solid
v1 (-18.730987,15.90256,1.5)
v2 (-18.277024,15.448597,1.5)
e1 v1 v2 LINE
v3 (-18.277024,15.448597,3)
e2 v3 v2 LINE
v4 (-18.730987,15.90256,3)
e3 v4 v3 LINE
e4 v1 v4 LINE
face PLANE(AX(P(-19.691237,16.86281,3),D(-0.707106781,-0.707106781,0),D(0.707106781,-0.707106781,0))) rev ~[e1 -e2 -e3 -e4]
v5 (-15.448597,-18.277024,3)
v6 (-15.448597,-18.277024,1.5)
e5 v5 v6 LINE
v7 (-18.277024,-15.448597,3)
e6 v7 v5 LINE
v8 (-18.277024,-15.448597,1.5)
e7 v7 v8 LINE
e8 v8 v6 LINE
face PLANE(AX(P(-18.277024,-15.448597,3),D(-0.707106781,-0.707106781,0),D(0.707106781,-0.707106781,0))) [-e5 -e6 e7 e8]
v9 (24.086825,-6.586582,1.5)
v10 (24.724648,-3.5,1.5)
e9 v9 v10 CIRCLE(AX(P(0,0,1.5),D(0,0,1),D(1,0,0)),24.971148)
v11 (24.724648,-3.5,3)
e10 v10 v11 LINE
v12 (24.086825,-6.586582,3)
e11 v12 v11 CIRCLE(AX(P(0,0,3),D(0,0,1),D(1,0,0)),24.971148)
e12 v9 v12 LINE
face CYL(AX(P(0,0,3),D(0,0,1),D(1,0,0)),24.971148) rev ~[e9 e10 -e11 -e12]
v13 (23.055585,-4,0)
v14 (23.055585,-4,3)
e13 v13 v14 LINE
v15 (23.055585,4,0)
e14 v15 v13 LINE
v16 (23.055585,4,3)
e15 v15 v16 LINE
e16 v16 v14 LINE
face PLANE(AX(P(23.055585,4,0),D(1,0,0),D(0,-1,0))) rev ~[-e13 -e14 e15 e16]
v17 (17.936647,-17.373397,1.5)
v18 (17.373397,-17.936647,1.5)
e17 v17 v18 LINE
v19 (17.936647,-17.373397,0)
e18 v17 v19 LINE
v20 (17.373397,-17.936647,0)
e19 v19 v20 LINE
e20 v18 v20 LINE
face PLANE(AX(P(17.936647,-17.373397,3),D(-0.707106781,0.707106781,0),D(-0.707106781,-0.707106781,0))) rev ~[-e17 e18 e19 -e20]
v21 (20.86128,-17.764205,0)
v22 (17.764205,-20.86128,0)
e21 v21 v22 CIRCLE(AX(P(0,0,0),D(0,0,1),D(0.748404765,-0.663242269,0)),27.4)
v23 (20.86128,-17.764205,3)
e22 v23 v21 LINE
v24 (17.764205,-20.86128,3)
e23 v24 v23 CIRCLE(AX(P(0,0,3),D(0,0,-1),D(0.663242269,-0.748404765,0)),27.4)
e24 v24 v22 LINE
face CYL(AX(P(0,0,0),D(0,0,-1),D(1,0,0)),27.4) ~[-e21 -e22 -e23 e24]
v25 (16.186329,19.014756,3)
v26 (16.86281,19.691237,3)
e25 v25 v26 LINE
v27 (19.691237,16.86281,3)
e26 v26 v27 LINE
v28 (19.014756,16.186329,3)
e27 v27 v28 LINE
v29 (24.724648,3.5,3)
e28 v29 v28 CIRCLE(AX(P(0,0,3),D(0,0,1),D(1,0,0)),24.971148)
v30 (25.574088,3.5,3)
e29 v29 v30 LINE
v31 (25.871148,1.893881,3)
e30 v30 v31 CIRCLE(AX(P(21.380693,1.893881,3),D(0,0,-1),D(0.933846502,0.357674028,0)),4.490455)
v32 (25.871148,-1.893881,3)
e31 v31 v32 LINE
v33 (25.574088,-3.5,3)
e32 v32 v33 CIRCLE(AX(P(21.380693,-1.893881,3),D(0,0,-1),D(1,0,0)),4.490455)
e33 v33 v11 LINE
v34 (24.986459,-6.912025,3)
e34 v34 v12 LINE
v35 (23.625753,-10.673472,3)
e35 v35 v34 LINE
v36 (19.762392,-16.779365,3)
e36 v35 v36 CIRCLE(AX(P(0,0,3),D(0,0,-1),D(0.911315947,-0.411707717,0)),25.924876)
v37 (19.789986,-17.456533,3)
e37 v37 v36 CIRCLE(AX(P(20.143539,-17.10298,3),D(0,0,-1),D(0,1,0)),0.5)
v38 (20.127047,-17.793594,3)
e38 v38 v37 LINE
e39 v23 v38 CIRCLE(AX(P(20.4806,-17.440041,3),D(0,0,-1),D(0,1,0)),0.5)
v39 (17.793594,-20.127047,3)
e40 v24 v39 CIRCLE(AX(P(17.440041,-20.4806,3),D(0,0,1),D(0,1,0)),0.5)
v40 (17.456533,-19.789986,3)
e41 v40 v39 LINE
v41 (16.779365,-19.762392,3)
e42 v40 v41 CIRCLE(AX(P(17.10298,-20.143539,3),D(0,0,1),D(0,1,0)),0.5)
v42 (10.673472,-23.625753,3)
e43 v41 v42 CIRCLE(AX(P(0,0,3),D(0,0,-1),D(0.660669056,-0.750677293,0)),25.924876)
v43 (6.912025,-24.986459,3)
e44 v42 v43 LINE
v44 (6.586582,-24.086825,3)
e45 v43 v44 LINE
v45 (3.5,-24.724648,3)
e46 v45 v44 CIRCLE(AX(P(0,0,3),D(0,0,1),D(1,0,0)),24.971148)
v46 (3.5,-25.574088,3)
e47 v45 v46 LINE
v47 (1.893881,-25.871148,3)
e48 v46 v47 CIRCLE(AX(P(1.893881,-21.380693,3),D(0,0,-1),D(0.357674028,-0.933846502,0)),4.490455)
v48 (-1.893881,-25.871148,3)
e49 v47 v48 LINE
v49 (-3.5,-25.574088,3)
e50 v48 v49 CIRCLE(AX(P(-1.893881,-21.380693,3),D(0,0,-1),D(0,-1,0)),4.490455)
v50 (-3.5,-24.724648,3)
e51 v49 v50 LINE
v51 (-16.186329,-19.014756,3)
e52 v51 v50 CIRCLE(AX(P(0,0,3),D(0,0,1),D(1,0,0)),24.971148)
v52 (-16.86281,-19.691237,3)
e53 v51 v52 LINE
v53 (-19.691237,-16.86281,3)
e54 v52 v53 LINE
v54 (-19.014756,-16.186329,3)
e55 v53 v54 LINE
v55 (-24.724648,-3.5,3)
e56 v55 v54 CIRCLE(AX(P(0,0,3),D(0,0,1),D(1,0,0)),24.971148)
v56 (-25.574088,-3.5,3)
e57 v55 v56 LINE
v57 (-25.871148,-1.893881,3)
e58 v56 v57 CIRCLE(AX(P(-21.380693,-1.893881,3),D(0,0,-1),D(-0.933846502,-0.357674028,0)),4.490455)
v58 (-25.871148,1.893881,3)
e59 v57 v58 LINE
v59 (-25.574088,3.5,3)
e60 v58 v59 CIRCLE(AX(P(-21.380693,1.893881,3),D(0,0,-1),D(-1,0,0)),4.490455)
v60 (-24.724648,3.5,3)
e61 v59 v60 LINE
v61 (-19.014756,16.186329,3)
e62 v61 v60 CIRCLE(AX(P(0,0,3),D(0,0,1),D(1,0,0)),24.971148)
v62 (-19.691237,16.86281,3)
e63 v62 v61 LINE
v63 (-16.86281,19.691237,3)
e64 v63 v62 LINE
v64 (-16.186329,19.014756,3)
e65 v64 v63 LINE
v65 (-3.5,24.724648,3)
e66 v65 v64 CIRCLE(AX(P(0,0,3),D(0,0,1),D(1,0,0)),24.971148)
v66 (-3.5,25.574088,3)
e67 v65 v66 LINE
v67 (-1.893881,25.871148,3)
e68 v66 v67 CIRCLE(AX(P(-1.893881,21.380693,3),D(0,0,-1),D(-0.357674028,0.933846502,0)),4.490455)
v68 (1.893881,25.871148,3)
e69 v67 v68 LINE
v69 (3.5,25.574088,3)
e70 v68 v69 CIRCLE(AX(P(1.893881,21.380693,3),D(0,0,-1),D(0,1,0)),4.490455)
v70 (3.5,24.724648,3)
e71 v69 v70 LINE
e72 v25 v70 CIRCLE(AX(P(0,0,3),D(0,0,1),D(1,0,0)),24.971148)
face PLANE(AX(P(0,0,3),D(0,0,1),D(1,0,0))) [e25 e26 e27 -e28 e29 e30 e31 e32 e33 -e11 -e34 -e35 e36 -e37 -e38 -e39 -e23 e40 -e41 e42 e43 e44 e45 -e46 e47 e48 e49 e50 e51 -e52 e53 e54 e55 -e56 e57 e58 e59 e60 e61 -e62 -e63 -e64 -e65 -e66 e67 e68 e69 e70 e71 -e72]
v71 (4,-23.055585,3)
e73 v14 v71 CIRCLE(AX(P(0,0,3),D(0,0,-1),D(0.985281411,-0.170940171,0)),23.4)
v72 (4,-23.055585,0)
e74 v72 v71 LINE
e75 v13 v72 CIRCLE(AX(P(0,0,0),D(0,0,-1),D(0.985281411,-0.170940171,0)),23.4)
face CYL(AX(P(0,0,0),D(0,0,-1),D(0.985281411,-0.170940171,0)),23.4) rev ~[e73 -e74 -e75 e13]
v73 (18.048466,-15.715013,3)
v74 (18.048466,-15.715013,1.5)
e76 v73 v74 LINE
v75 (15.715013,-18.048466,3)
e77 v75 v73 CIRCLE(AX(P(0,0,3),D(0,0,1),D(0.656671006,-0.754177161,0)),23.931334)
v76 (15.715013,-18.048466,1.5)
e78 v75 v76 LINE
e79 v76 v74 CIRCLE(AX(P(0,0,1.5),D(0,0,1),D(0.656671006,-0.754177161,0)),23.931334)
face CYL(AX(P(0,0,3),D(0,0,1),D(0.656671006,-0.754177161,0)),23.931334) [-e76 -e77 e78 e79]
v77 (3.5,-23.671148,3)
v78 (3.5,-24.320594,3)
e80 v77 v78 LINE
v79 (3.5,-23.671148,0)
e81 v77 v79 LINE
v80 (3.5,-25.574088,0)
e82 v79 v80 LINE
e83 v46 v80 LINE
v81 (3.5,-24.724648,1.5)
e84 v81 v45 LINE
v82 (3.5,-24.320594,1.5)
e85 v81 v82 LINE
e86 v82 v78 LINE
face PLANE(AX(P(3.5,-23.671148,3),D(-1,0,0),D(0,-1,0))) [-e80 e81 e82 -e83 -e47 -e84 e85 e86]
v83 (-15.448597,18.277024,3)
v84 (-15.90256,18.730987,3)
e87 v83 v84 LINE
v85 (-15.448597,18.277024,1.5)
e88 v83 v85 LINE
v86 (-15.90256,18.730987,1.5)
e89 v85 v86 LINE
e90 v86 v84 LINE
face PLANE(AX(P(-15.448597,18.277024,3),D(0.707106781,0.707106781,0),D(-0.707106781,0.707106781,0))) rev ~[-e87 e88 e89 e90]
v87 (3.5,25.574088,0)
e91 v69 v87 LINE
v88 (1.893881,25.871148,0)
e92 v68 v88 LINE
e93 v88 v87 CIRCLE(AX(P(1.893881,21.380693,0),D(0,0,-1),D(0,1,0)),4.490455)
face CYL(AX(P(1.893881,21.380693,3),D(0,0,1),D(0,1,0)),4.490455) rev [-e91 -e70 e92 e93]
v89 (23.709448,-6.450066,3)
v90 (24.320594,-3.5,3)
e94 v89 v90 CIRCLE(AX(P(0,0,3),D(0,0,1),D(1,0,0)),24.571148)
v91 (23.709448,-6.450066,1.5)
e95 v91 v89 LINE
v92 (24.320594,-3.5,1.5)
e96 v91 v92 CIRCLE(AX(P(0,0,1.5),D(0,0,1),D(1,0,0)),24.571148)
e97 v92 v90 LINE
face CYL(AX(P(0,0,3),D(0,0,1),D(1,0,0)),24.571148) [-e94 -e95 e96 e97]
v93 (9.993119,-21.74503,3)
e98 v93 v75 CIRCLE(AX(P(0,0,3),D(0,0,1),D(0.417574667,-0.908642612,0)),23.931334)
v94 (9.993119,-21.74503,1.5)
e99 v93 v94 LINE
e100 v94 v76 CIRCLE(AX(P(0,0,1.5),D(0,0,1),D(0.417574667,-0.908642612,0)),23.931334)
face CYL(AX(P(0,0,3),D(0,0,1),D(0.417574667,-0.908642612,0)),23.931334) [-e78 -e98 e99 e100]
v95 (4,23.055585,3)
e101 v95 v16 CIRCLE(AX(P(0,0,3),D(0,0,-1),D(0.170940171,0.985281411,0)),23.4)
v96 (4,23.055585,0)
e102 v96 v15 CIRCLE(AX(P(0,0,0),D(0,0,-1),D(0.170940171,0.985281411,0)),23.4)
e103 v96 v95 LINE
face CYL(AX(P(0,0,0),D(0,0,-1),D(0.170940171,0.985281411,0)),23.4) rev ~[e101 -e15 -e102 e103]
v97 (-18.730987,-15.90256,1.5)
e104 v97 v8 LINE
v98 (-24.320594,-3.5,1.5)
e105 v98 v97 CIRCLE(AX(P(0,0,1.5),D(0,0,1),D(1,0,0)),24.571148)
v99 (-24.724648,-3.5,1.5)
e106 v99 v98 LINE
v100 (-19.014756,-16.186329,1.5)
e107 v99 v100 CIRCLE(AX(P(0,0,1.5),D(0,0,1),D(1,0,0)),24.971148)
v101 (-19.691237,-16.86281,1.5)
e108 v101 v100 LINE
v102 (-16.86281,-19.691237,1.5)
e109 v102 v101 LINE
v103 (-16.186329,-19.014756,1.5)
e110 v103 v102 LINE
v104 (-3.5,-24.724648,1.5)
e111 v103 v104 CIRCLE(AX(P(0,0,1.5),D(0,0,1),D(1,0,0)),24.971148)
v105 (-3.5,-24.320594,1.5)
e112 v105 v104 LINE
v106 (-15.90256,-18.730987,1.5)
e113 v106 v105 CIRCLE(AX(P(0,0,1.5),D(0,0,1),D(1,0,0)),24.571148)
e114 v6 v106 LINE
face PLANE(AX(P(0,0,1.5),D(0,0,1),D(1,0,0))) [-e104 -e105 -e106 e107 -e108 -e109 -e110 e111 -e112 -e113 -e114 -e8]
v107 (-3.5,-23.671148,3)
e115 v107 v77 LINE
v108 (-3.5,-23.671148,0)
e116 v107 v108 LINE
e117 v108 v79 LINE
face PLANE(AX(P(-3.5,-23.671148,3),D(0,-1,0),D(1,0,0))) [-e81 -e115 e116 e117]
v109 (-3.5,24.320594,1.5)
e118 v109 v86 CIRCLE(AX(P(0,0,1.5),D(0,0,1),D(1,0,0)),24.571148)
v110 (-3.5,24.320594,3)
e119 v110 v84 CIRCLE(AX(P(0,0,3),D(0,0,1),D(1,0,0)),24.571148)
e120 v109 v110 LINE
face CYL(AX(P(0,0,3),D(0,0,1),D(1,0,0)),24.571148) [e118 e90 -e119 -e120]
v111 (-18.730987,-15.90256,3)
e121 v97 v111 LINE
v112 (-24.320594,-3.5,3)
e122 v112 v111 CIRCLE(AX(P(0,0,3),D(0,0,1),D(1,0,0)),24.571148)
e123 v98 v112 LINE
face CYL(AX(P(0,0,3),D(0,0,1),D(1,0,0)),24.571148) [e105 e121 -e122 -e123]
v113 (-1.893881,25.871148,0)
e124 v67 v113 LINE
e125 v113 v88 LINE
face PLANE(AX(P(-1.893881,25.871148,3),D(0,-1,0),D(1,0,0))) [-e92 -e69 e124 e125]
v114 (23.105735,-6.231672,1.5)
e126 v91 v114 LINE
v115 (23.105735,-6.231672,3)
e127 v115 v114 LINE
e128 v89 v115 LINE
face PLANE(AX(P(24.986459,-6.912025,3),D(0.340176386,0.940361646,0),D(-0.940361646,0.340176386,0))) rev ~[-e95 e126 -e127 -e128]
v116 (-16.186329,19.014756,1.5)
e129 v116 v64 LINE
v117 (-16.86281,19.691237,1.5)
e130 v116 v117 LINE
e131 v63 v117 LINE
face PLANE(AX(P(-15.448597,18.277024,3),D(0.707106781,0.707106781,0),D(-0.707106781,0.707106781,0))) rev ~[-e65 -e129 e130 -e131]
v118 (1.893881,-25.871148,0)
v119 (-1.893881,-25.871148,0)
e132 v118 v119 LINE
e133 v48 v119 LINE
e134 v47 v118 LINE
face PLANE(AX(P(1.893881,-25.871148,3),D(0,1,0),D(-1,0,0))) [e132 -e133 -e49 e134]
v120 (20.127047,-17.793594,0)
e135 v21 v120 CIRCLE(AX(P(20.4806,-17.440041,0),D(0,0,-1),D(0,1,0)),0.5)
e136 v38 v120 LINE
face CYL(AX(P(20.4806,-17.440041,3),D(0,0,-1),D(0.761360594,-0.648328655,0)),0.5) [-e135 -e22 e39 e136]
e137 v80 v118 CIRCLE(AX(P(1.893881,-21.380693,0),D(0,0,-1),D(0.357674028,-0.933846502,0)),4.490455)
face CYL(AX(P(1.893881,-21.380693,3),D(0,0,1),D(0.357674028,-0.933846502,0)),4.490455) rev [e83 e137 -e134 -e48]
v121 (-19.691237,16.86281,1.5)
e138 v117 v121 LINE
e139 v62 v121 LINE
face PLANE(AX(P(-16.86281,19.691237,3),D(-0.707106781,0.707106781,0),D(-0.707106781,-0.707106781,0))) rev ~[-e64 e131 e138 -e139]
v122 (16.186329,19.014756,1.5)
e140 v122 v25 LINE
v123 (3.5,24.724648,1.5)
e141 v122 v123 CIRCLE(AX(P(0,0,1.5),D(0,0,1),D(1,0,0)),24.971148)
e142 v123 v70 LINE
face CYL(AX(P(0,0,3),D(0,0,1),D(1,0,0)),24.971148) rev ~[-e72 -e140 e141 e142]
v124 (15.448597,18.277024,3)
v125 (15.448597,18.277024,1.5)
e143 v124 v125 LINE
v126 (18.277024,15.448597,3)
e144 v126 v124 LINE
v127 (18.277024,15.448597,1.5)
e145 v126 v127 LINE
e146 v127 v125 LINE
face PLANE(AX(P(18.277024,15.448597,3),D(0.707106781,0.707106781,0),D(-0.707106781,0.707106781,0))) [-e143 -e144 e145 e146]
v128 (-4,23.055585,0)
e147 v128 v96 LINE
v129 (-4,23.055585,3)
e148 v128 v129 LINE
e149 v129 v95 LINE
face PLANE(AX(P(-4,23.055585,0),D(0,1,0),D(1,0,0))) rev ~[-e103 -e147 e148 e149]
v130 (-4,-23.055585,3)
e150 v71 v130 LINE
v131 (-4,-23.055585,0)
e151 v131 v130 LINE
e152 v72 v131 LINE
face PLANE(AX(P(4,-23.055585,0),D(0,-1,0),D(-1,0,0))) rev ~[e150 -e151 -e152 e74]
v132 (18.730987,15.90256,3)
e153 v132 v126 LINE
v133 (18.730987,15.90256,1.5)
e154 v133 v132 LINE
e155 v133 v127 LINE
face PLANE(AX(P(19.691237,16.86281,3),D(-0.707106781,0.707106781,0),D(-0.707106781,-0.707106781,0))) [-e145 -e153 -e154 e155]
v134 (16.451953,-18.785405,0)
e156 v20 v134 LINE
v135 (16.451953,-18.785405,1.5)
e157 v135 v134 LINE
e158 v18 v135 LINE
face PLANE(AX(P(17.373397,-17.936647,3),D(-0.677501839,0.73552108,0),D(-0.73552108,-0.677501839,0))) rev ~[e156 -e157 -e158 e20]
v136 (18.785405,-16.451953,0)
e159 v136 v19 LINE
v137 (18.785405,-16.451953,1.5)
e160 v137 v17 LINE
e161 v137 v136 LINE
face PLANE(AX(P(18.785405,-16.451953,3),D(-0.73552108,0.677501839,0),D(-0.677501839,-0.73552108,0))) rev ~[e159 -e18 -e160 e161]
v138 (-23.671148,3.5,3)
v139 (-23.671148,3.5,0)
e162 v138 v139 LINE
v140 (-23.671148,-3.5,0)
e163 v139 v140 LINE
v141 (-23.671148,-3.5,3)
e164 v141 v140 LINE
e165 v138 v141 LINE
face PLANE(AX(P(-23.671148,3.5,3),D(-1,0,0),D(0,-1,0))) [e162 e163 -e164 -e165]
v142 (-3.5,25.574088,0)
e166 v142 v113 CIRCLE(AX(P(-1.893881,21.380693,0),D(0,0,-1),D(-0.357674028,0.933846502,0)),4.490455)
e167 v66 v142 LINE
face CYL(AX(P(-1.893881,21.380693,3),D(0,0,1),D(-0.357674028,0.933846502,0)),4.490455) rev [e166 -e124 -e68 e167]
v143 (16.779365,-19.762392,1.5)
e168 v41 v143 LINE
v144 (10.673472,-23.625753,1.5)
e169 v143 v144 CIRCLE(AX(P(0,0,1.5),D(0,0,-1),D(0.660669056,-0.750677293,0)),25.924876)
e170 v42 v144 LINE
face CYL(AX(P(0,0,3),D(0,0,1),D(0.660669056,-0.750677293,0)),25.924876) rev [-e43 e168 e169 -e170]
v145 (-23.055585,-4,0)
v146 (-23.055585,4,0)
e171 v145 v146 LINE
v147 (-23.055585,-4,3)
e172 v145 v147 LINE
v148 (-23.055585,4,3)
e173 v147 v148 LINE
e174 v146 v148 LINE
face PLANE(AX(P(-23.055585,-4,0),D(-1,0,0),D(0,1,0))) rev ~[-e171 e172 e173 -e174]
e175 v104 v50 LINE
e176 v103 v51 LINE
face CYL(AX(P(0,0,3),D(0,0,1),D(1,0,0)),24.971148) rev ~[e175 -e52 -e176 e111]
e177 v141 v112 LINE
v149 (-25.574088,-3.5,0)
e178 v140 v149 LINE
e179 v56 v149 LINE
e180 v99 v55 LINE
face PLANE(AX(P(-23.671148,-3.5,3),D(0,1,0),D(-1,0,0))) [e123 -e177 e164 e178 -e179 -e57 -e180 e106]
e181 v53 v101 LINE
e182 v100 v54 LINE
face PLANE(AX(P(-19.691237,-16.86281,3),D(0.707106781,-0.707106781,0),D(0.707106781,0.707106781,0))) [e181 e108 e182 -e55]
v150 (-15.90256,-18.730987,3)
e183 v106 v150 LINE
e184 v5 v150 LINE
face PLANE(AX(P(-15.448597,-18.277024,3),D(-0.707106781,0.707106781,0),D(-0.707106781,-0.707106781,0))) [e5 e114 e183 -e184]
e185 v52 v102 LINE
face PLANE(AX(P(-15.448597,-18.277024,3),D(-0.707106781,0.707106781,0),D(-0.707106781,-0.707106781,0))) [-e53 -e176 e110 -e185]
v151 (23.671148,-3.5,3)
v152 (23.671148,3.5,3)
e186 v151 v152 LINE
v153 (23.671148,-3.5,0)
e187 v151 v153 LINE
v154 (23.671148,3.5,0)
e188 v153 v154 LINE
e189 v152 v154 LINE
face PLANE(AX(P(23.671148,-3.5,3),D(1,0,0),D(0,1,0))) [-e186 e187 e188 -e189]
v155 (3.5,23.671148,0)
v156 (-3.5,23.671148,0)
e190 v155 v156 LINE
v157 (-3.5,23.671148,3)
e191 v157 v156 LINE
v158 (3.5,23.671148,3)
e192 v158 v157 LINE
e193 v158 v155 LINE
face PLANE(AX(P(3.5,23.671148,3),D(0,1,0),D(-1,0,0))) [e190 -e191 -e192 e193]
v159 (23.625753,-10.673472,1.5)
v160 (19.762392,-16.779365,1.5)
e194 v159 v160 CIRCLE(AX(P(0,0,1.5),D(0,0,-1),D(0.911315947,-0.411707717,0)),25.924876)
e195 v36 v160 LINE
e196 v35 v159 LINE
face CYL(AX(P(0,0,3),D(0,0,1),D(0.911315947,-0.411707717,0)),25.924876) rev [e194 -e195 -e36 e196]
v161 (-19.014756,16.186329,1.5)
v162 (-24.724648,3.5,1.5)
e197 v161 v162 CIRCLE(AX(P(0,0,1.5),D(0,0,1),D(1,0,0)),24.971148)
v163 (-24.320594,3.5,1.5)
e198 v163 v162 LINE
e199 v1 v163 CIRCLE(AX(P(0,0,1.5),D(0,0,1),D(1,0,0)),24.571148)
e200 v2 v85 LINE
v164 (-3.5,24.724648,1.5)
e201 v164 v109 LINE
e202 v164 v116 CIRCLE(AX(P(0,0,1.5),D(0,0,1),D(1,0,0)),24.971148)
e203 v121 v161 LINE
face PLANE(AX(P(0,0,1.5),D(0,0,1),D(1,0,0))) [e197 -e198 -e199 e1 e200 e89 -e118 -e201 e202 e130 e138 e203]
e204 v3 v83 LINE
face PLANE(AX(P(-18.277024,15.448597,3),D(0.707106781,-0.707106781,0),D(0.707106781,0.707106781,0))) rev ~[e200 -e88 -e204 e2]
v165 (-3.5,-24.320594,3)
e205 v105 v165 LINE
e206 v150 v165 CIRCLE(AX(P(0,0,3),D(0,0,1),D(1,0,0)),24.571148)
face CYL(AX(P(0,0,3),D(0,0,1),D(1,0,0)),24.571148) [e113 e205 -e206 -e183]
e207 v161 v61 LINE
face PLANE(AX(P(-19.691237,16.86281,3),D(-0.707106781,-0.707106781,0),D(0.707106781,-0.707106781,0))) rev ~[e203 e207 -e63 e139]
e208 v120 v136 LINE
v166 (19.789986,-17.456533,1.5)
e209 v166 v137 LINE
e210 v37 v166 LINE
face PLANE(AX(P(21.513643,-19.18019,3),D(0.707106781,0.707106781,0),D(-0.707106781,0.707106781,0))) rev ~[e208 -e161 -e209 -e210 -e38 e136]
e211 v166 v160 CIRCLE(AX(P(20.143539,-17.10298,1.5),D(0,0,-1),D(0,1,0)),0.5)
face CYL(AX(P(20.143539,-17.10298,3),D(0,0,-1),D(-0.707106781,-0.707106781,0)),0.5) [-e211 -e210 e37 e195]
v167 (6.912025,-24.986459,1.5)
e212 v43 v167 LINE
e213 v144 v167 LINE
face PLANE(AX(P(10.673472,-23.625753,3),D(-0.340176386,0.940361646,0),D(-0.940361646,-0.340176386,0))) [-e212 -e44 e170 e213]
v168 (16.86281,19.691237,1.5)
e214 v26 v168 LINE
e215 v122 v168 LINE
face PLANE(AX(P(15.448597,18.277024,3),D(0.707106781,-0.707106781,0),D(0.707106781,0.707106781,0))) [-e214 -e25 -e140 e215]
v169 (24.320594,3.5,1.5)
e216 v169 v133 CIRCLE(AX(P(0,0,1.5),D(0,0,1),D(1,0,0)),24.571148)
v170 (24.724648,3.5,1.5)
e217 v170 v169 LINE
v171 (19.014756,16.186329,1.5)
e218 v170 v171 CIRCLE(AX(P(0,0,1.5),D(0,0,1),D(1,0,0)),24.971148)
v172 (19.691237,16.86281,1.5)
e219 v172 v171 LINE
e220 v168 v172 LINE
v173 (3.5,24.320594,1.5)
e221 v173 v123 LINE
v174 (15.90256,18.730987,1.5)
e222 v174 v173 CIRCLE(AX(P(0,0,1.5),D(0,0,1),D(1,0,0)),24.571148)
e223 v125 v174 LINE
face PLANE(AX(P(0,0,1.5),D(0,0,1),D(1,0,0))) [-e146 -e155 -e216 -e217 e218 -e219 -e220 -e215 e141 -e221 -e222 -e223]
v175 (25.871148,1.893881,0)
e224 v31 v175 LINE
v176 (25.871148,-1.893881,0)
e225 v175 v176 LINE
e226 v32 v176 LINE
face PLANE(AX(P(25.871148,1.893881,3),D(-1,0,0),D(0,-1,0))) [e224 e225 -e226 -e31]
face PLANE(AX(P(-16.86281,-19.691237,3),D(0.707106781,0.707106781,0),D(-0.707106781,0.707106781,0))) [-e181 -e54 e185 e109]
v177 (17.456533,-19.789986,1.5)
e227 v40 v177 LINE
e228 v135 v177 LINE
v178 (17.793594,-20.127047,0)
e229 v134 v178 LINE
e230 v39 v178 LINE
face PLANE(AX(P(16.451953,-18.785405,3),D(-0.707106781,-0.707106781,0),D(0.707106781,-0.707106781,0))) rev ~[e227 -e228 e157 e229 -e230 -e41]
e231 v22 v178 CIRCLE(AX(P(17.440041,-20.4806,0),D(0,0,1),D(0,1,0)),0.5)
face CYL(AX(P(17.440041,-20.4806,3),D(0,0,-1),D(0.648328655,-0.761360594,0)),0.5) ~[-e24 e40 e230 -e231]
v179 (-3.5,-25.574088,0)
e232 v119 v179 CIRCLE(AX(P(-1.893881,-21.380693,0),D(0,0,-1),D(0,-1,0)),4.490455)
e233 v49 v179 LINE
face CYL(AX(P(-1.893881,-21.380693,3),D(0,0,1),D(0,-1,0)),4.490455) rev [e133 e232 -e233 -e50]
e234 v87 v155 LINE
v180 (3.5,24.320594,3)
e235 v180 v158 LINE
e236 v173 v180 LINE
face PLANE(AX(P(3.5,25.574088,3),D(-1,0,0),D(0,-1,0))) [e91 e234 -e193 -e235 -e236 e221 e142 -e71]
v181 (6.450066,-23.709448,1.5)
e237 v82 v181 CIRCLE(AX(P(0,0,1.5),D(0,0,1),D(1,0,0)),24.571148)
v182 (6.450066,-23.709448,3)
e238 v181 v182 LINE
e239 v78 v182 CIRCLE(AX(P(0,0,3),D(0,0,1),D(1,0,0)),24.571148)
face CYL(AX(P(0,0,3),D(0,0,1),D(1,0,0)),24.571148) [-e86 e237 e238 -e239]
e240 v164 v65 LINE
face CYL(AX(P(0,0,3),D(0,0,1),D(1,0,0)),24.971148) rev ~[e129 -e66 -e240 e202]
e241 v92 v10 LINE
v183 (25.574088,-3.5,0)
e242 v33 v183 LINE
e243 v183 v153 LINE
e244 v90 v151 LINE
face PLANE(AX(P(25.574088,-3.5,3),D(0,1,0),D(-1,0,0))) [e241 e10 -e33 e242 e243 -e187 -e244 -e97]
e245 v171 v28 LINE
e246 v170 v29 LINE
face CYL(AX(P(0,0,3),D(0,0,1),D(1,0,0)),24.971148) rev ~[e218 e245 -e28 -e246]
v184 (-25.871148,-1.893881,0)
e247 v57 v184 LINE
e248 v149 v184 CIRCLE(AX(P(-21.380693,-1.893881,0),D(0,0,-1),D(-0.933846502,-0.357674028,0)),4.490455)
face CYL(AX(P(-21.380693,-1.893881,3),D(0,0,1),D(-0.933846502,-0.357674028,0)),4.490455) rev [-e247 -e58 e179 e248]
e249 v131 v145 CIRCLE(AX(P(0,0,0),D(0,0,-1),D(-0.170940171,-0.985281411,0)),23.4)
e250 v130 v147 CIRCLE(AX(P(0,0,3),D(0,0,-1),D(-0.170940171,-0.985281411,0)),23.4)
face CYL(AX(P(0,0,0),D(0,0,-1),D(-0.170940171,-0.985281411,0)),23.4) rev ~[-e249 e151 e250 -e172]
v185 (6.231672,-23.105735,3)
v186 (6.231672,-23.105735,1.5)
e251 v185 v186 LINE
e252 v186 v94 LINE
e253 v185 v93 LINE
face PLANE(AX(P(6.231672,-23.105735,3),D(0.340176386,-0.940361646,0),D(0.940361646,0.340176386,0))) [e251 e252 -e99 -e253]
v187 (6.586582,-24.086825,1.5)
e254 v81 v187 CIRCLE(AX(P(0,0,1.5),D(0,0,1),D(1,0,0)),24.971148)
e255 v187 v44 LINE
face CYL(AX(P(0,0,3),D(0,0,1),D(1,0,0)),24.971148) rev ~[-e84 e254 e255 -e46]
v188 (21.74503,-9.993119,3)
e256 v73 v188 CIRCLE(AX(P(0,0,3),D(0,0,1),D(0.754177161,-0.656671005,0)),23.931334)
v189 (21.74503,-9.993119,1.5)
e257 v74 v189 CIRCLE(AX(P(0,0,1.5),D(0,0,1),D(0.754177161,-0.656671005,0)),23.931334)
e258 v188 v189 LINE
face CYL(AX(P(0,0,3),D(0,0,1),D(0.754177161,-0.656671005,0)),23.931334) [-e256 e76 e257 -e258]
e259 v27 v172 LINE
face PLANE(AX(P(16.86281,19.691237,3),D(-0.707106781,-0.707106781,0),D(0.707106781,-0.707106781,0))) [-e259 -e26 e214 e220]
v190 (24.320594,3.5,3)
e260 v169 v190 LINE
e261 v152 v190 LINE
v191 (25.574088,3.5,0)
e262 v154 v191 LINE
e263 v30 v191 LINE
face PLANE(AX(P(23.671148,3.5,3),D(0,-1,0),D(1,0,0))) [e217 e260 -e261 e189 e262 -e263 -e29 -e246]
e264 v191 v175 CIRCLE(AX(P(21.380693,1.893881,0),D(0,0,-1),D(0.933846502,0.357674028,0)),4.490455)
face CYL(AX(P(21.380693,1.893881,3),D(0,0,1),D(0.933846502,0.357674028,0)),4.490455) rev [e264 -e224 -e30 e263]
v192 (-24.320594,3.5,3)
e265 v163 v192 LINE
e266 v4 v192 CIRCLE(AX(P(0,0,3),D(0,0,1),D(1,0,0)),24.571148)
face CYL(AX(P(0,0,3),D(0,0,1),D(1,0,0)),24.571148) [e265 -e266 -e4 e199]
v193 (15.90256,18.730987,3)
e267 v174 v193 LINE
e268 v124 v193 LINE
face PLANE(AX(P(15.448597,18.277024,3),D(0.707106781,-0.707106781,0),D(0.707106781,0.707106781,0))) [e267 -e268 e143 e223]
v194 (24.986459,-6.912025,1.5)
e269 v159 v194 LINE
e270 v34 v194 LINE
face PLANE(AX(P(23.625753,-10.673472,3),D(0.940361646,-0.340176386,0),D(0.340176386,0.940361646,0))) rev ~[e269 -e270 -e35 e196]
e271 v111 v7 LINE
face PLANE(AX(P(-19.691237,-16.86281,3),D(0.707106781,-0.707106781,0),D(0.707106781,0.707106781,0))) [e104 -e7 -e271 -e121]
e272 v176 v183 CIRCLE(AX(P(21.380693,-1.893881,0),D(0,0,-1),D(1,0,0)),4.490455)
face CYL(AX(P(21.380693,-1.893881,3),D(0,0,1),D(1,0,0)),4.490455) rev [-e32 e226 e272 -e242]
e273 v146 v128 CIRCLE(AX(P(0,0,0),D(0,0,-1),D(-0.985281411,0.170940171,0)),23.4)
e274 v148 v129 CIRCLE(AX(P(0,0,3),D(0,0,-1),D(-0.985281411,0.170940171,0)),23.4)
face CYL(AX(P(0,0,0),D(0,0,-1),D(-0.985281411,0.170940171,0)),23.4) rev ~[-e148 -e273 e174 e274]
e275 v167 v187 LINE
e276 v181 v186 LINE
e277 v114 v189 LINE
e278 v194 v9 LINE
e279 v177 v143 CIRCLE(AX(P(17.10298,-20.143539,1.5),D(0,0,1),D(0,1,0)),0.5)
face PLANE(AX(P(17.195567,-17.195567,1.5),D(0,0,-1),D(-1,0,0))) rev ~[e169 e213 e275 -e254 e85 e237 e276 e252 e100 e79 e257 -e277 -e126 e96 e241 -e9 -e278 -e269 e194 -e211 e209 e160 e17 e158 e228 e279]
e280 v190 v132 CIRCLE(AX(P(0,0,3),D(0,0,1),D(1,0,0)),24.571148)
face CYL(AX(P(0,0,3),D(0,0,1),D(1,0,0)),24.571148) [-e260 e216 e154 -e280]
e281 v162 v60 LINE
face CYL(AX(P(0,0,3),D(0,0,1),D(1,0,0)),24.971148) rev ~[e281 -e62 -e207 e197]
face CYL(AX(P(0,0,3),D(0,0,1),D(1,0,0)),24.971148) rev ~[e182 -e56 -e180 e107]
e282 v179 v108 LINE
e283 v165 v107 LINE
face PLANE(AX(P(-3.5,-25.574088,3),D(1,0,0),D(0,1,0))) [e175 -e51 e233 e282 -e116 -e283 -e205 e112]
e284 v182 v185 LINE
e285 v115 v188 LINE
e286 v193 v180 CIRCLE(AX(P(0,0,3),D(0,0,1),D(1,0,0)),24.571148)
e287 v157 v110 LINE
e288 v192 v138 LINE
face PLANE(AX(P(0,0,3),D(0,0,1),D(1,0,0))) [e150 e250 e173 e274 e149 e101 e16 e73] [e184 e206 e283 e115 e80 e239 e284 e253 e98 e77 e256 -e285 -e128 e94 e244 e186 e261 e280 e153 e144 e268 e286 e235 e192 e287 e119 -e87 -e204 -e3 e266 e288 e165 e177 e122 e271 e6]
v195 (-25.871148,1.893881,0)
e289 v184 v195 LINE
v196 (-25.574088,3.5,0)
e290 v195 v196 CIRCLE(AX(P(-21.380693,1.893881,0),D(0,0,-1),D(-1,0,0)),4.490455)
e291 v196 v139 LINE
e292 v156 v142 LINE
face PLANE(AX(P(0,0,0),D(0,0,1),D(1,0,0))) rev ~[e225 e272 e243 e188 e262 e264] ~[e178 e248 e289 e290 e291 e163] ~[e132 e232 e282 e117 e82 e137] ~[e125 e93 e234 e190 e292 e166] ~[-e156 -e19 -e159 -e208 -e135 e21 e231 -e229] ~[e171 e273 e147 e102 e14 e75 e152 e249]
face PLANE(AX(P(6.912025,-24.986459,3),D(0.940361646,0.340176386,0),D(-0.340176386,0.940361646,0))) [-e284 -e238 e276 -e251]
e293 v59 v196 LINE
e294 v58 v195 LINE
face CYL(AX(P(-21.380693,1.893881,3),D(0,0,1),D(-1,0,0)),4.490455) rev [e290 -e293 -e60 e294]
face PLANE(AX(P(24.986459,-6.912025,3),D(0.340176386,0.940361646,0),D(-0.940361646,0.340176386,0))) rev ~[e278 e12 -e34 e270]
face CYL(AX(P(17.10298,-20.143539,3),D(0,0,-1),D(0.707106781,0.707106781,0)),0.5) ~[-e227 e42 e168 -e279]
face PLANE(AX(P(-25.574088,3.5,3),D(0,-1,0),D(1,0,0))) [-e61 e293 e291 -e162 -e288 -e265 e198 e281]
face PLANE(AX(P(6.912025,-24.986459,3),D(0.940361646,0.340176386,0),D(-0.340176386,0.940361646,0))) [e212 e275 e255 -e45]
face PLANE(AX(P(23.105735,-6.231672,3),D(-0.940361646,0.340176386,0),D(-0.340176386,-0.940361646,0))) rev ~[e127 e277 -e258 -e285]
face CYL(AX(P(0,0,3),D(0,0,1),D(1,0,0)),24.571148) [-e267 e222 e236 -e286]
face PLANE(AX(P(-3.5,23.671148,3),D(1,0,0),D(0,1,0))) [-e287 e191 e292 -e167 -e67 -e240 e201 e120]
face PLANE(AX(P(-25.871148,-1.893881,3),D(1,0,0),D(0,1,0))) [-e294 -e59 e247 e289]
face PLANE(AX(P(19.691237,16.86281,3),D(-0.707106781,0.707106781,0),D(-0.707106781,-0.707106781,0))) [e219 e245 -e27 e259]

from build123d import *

# Parameters (mm, degrees)
SKETCH2_R       = 27.4
EXTRUDE1_DEPTH  = 3
EXTRUDE2_DEPTH  = 3
SKETCH5_R       = 24.971147558
SKETCH5_R_2     = 24.571147558
EXTRUDE3_DEPTH  = 1.5
EXTRUDE4_DEPTH  = 1.5
EXTRUDE11_DEPTH = 3.8
EXTRUDE12_DEPTH = 1.5
FILLET1_R       = 0.5


with BuildPart() as part:
    # Sketch2 → Extrude1 (new body)
    with BuildSketch(Plane.XY):
        Circle(SKETCH2_R)
        with BuildLine():
            Line((-4, 23.055585007), (4, 23.055585007))
            ThreePointArc((4, 23.055585007), (16.54629868, 16.54629868), (23.055585007, 4))
            Line((23.055585007, 4), (23.055585007, -4))
            ThreePointArc((23.055585007, -4), (16.54629868, -16.54629868), (4, -23.055585007))
            Line((4, -23.055585007), (-4, -23.055585007))
            ThreePointArc((-4, -23.055585007), (-16.54629868, -16.54629868), (-23.055585007, -4))
            Line((-23.055585007, -4), (-23.055585007, 4))
            ThreePointArc((-23.055585007, 4), (-16.54629868, 16.54629868), (-4, 23.055585007))
        make_face(mode=Mode.SUBTRACT)
    extrude(amount=EXTRUDE1_DEPTH)

    # Sketch3 → Extrude2 (cut)
    with BuildSketch(Plane.XY.offset(3)):
        with BuildLine():
            Line((-1.893881028, 25.871147558), (1.893881028, 25.871147558))
            ThreePointArc((1.893881028, 25.871147558), (2.710560642, 25.796258258), (3.5, 25.574088282))
            Line((3.5, 25.574088282), (3.5, 23.671147558))
            Line((3.5, 23.671147558), (-3.5, 23.671147558))
            Line((-3.5, 23.671147558), (-3.5, 25.574088282))
            ThreePointArc((-3.5, 25.574088282), (-2.710560642, 25.796258258), (-1.893881028, 25.871147558))
        make_face()
        with BuildLine():
            Line((23.671147558, -3.5), (23.671147558, 3.5))
            Line((23.671147558, 3.5), (25.574088282, 3.5))
            ThreePointArc((25.574088282, 3.5), (25.796258258, 2.710560642), (25.871147558, 1.893881028))
            Line((25.871147558, 1.893881028), (25.871147558, -1.893881028))
            ThreePointArc((25.871147558, -1.893881028), (25.796258258, -2.710560642), (25.574088282, -3.5))
            Line((25.574088282, -3.5), (23.671147558, -3.5))
        make_face()
        with BuildLine():
            Line((-3.5, -23.671147558), (3.5, -23.671147558))
            Line((3.5, -23.671147558), (3.5, -25.574088282))
            ThreePointArc((3.5, -25.574088282), (2.710560642, -25.796258258), (1.893881028, -25.871147558))
            Line((1.893881028, -25.871147558), (-1.893881028, -25.871147558))
            ThreePointArc((-1.893881028, -25.871147558), (-2.710560642, -25.796258258), (-3.5, -25.574088282))
            Line((-3.5, -25.574088282), (-3.5, -23.671147558))
        make_face()
        with BuildLine():
            Line((-23.671147558, 3.5), (-23.671147558, -3.5))
            Line((-23.671147558, -3.5), (-25.574088282, -3.5))
            ThreePointArc((-25.574088282, -3.5), (-25.796258258, -2.710560642), (-25.871147558, -1.893881028))
            Line((-25.871147558, -1.893881028), (-25.871147558, 1.893881028))
            ThreePointArc((-25.871147558, 1.893881028), (-25.796258258, 2.710560642), (-25.574088282, 3.5))
            Line((-25.574088282, 3.5), (-23.671147558, 3.5))
        make_face()
    extrude(amount=-EXTRUDE2_DEPTH, mode=Mode.SUBTRACT)

    # Sketch5 → Extrude3 (cut)
    with BuildSketch(Plane.XY.offset(3)):
        Circle(SKETCH5_R)
        Circle(SKETCH5_R_2, mode=Mode.SUBTRACT)
    extrude(amount=-EXTRUDE3_DEPTH, mode=Mode.SUBTRACT)

    # Sketch6 → Extrude4 (cut)
    with BuildSketch(Plane.XY.offset(3)):
        Polygon((-19.691237457, 16.862810332), (-18.277023894, 15.448596769), (-15.448596769, 18.277023894), (-16.862810332, 19.691237457), align=None)
        Polygon((16.862810332, 19.691237457), (19.691237457, 16.862810332), (18.277023894, 15.448596769), (15.448596769, 18.277023894), align=None)
        Polygon((-19.691237457, -16.862810332), (-18.277023894, -15.448596769), (-15.448596769, -18.277023894), (-16.862810332, -19.691237457), align=None)
        Polygon((6.912025, -24.986458638), (6.231672227, -23.105735345), (9.993118813, -21.745029799), (10.673471586, -23.625753092), align=None)
        Polygon((24.986458638, -6.912025), (23.105735345, -6.231672227), (21.745029799, -9.993118813), (23.625753092, -10.673471586), align=None)
    extrude(amount=-EXTRUDE4_DEPTH, mode=Mode.SUBTRACT)

    # Sketch13 → Extrude11 (cut)
    with BuildSketch(Plane.XY.offset(3)):
        Polygon((19.975766569, -17.642314191), (18.785405345, -16.451952967), (17.936646698, -17.373396778), (17.373396778, -17.936646698), (16.451952967, -18.785405345), (17.642314191, -19.975766569), (19.180190393, -21.513642771), (21.513642771, -19.180190393), align=None)
    extrude(amount=-EXTRUDE11_DEPTH, mode=Mode.SUBTRACT)

    # Sketch14 → Extrude12 (cut)
    with BuildSketch(Plane.XY.offset(3)):
        with BuildLine():
            Line((10.673471586, -23.625753092), (10.279766704, -22.537420726))
            Line((10.279766704, -22.537420726), (9.993118813, -21.745029799))
            ThreePointArc((9.993118813, -21.745029799), (12.986268088, -20.101382682), (15.715013126, -18.048465504))
            ThreePointArc((15.715013126, -18.048465504), (16.922008518, -16.922008518), (18.048465504, -15.715013126))
            ThreePointArc((18.048465504, -15.715013126), (20.101382682, -12.986268088), (21.745029799, -9.993118813))
            Line((21.745029799, -9.993118813), (22.537420726, -10.279766704))
            Line((22.537420726, -10.279766704), (23.625753092, -10.673471586))
            ThreePointArc((23.625753092, -10.673471586), (21.783851689, -14.055710955), (19.461215863, -17.127763485))
            Line((19.461215863, -17.127763485), (17.127763485, -19.461215863))
            ThreePointArc((17.127763485, -19.461215863), (14.055710955, -21.783851689), (10.673471586, -23.625753092))
        make_face()
    extrude(amount=-EXTRUDE12_DEPTH, mode=Mode.SUBTRACT)

    # Fillet1
    fillet1_edges = [part.edges().sort_by_distance(p)[0] for p in [
        (20.506290558, -18.17283818, 1.5),
        (18.17283818, -20.506290558, 1.5),
        (17.127763485, -19.461215863, 2.25),
        (19.461215863, -17.127763485, 2.25),
    ]]
    fillet(fillet1_edges, radius=FILLET1_R)


solid = part.part
